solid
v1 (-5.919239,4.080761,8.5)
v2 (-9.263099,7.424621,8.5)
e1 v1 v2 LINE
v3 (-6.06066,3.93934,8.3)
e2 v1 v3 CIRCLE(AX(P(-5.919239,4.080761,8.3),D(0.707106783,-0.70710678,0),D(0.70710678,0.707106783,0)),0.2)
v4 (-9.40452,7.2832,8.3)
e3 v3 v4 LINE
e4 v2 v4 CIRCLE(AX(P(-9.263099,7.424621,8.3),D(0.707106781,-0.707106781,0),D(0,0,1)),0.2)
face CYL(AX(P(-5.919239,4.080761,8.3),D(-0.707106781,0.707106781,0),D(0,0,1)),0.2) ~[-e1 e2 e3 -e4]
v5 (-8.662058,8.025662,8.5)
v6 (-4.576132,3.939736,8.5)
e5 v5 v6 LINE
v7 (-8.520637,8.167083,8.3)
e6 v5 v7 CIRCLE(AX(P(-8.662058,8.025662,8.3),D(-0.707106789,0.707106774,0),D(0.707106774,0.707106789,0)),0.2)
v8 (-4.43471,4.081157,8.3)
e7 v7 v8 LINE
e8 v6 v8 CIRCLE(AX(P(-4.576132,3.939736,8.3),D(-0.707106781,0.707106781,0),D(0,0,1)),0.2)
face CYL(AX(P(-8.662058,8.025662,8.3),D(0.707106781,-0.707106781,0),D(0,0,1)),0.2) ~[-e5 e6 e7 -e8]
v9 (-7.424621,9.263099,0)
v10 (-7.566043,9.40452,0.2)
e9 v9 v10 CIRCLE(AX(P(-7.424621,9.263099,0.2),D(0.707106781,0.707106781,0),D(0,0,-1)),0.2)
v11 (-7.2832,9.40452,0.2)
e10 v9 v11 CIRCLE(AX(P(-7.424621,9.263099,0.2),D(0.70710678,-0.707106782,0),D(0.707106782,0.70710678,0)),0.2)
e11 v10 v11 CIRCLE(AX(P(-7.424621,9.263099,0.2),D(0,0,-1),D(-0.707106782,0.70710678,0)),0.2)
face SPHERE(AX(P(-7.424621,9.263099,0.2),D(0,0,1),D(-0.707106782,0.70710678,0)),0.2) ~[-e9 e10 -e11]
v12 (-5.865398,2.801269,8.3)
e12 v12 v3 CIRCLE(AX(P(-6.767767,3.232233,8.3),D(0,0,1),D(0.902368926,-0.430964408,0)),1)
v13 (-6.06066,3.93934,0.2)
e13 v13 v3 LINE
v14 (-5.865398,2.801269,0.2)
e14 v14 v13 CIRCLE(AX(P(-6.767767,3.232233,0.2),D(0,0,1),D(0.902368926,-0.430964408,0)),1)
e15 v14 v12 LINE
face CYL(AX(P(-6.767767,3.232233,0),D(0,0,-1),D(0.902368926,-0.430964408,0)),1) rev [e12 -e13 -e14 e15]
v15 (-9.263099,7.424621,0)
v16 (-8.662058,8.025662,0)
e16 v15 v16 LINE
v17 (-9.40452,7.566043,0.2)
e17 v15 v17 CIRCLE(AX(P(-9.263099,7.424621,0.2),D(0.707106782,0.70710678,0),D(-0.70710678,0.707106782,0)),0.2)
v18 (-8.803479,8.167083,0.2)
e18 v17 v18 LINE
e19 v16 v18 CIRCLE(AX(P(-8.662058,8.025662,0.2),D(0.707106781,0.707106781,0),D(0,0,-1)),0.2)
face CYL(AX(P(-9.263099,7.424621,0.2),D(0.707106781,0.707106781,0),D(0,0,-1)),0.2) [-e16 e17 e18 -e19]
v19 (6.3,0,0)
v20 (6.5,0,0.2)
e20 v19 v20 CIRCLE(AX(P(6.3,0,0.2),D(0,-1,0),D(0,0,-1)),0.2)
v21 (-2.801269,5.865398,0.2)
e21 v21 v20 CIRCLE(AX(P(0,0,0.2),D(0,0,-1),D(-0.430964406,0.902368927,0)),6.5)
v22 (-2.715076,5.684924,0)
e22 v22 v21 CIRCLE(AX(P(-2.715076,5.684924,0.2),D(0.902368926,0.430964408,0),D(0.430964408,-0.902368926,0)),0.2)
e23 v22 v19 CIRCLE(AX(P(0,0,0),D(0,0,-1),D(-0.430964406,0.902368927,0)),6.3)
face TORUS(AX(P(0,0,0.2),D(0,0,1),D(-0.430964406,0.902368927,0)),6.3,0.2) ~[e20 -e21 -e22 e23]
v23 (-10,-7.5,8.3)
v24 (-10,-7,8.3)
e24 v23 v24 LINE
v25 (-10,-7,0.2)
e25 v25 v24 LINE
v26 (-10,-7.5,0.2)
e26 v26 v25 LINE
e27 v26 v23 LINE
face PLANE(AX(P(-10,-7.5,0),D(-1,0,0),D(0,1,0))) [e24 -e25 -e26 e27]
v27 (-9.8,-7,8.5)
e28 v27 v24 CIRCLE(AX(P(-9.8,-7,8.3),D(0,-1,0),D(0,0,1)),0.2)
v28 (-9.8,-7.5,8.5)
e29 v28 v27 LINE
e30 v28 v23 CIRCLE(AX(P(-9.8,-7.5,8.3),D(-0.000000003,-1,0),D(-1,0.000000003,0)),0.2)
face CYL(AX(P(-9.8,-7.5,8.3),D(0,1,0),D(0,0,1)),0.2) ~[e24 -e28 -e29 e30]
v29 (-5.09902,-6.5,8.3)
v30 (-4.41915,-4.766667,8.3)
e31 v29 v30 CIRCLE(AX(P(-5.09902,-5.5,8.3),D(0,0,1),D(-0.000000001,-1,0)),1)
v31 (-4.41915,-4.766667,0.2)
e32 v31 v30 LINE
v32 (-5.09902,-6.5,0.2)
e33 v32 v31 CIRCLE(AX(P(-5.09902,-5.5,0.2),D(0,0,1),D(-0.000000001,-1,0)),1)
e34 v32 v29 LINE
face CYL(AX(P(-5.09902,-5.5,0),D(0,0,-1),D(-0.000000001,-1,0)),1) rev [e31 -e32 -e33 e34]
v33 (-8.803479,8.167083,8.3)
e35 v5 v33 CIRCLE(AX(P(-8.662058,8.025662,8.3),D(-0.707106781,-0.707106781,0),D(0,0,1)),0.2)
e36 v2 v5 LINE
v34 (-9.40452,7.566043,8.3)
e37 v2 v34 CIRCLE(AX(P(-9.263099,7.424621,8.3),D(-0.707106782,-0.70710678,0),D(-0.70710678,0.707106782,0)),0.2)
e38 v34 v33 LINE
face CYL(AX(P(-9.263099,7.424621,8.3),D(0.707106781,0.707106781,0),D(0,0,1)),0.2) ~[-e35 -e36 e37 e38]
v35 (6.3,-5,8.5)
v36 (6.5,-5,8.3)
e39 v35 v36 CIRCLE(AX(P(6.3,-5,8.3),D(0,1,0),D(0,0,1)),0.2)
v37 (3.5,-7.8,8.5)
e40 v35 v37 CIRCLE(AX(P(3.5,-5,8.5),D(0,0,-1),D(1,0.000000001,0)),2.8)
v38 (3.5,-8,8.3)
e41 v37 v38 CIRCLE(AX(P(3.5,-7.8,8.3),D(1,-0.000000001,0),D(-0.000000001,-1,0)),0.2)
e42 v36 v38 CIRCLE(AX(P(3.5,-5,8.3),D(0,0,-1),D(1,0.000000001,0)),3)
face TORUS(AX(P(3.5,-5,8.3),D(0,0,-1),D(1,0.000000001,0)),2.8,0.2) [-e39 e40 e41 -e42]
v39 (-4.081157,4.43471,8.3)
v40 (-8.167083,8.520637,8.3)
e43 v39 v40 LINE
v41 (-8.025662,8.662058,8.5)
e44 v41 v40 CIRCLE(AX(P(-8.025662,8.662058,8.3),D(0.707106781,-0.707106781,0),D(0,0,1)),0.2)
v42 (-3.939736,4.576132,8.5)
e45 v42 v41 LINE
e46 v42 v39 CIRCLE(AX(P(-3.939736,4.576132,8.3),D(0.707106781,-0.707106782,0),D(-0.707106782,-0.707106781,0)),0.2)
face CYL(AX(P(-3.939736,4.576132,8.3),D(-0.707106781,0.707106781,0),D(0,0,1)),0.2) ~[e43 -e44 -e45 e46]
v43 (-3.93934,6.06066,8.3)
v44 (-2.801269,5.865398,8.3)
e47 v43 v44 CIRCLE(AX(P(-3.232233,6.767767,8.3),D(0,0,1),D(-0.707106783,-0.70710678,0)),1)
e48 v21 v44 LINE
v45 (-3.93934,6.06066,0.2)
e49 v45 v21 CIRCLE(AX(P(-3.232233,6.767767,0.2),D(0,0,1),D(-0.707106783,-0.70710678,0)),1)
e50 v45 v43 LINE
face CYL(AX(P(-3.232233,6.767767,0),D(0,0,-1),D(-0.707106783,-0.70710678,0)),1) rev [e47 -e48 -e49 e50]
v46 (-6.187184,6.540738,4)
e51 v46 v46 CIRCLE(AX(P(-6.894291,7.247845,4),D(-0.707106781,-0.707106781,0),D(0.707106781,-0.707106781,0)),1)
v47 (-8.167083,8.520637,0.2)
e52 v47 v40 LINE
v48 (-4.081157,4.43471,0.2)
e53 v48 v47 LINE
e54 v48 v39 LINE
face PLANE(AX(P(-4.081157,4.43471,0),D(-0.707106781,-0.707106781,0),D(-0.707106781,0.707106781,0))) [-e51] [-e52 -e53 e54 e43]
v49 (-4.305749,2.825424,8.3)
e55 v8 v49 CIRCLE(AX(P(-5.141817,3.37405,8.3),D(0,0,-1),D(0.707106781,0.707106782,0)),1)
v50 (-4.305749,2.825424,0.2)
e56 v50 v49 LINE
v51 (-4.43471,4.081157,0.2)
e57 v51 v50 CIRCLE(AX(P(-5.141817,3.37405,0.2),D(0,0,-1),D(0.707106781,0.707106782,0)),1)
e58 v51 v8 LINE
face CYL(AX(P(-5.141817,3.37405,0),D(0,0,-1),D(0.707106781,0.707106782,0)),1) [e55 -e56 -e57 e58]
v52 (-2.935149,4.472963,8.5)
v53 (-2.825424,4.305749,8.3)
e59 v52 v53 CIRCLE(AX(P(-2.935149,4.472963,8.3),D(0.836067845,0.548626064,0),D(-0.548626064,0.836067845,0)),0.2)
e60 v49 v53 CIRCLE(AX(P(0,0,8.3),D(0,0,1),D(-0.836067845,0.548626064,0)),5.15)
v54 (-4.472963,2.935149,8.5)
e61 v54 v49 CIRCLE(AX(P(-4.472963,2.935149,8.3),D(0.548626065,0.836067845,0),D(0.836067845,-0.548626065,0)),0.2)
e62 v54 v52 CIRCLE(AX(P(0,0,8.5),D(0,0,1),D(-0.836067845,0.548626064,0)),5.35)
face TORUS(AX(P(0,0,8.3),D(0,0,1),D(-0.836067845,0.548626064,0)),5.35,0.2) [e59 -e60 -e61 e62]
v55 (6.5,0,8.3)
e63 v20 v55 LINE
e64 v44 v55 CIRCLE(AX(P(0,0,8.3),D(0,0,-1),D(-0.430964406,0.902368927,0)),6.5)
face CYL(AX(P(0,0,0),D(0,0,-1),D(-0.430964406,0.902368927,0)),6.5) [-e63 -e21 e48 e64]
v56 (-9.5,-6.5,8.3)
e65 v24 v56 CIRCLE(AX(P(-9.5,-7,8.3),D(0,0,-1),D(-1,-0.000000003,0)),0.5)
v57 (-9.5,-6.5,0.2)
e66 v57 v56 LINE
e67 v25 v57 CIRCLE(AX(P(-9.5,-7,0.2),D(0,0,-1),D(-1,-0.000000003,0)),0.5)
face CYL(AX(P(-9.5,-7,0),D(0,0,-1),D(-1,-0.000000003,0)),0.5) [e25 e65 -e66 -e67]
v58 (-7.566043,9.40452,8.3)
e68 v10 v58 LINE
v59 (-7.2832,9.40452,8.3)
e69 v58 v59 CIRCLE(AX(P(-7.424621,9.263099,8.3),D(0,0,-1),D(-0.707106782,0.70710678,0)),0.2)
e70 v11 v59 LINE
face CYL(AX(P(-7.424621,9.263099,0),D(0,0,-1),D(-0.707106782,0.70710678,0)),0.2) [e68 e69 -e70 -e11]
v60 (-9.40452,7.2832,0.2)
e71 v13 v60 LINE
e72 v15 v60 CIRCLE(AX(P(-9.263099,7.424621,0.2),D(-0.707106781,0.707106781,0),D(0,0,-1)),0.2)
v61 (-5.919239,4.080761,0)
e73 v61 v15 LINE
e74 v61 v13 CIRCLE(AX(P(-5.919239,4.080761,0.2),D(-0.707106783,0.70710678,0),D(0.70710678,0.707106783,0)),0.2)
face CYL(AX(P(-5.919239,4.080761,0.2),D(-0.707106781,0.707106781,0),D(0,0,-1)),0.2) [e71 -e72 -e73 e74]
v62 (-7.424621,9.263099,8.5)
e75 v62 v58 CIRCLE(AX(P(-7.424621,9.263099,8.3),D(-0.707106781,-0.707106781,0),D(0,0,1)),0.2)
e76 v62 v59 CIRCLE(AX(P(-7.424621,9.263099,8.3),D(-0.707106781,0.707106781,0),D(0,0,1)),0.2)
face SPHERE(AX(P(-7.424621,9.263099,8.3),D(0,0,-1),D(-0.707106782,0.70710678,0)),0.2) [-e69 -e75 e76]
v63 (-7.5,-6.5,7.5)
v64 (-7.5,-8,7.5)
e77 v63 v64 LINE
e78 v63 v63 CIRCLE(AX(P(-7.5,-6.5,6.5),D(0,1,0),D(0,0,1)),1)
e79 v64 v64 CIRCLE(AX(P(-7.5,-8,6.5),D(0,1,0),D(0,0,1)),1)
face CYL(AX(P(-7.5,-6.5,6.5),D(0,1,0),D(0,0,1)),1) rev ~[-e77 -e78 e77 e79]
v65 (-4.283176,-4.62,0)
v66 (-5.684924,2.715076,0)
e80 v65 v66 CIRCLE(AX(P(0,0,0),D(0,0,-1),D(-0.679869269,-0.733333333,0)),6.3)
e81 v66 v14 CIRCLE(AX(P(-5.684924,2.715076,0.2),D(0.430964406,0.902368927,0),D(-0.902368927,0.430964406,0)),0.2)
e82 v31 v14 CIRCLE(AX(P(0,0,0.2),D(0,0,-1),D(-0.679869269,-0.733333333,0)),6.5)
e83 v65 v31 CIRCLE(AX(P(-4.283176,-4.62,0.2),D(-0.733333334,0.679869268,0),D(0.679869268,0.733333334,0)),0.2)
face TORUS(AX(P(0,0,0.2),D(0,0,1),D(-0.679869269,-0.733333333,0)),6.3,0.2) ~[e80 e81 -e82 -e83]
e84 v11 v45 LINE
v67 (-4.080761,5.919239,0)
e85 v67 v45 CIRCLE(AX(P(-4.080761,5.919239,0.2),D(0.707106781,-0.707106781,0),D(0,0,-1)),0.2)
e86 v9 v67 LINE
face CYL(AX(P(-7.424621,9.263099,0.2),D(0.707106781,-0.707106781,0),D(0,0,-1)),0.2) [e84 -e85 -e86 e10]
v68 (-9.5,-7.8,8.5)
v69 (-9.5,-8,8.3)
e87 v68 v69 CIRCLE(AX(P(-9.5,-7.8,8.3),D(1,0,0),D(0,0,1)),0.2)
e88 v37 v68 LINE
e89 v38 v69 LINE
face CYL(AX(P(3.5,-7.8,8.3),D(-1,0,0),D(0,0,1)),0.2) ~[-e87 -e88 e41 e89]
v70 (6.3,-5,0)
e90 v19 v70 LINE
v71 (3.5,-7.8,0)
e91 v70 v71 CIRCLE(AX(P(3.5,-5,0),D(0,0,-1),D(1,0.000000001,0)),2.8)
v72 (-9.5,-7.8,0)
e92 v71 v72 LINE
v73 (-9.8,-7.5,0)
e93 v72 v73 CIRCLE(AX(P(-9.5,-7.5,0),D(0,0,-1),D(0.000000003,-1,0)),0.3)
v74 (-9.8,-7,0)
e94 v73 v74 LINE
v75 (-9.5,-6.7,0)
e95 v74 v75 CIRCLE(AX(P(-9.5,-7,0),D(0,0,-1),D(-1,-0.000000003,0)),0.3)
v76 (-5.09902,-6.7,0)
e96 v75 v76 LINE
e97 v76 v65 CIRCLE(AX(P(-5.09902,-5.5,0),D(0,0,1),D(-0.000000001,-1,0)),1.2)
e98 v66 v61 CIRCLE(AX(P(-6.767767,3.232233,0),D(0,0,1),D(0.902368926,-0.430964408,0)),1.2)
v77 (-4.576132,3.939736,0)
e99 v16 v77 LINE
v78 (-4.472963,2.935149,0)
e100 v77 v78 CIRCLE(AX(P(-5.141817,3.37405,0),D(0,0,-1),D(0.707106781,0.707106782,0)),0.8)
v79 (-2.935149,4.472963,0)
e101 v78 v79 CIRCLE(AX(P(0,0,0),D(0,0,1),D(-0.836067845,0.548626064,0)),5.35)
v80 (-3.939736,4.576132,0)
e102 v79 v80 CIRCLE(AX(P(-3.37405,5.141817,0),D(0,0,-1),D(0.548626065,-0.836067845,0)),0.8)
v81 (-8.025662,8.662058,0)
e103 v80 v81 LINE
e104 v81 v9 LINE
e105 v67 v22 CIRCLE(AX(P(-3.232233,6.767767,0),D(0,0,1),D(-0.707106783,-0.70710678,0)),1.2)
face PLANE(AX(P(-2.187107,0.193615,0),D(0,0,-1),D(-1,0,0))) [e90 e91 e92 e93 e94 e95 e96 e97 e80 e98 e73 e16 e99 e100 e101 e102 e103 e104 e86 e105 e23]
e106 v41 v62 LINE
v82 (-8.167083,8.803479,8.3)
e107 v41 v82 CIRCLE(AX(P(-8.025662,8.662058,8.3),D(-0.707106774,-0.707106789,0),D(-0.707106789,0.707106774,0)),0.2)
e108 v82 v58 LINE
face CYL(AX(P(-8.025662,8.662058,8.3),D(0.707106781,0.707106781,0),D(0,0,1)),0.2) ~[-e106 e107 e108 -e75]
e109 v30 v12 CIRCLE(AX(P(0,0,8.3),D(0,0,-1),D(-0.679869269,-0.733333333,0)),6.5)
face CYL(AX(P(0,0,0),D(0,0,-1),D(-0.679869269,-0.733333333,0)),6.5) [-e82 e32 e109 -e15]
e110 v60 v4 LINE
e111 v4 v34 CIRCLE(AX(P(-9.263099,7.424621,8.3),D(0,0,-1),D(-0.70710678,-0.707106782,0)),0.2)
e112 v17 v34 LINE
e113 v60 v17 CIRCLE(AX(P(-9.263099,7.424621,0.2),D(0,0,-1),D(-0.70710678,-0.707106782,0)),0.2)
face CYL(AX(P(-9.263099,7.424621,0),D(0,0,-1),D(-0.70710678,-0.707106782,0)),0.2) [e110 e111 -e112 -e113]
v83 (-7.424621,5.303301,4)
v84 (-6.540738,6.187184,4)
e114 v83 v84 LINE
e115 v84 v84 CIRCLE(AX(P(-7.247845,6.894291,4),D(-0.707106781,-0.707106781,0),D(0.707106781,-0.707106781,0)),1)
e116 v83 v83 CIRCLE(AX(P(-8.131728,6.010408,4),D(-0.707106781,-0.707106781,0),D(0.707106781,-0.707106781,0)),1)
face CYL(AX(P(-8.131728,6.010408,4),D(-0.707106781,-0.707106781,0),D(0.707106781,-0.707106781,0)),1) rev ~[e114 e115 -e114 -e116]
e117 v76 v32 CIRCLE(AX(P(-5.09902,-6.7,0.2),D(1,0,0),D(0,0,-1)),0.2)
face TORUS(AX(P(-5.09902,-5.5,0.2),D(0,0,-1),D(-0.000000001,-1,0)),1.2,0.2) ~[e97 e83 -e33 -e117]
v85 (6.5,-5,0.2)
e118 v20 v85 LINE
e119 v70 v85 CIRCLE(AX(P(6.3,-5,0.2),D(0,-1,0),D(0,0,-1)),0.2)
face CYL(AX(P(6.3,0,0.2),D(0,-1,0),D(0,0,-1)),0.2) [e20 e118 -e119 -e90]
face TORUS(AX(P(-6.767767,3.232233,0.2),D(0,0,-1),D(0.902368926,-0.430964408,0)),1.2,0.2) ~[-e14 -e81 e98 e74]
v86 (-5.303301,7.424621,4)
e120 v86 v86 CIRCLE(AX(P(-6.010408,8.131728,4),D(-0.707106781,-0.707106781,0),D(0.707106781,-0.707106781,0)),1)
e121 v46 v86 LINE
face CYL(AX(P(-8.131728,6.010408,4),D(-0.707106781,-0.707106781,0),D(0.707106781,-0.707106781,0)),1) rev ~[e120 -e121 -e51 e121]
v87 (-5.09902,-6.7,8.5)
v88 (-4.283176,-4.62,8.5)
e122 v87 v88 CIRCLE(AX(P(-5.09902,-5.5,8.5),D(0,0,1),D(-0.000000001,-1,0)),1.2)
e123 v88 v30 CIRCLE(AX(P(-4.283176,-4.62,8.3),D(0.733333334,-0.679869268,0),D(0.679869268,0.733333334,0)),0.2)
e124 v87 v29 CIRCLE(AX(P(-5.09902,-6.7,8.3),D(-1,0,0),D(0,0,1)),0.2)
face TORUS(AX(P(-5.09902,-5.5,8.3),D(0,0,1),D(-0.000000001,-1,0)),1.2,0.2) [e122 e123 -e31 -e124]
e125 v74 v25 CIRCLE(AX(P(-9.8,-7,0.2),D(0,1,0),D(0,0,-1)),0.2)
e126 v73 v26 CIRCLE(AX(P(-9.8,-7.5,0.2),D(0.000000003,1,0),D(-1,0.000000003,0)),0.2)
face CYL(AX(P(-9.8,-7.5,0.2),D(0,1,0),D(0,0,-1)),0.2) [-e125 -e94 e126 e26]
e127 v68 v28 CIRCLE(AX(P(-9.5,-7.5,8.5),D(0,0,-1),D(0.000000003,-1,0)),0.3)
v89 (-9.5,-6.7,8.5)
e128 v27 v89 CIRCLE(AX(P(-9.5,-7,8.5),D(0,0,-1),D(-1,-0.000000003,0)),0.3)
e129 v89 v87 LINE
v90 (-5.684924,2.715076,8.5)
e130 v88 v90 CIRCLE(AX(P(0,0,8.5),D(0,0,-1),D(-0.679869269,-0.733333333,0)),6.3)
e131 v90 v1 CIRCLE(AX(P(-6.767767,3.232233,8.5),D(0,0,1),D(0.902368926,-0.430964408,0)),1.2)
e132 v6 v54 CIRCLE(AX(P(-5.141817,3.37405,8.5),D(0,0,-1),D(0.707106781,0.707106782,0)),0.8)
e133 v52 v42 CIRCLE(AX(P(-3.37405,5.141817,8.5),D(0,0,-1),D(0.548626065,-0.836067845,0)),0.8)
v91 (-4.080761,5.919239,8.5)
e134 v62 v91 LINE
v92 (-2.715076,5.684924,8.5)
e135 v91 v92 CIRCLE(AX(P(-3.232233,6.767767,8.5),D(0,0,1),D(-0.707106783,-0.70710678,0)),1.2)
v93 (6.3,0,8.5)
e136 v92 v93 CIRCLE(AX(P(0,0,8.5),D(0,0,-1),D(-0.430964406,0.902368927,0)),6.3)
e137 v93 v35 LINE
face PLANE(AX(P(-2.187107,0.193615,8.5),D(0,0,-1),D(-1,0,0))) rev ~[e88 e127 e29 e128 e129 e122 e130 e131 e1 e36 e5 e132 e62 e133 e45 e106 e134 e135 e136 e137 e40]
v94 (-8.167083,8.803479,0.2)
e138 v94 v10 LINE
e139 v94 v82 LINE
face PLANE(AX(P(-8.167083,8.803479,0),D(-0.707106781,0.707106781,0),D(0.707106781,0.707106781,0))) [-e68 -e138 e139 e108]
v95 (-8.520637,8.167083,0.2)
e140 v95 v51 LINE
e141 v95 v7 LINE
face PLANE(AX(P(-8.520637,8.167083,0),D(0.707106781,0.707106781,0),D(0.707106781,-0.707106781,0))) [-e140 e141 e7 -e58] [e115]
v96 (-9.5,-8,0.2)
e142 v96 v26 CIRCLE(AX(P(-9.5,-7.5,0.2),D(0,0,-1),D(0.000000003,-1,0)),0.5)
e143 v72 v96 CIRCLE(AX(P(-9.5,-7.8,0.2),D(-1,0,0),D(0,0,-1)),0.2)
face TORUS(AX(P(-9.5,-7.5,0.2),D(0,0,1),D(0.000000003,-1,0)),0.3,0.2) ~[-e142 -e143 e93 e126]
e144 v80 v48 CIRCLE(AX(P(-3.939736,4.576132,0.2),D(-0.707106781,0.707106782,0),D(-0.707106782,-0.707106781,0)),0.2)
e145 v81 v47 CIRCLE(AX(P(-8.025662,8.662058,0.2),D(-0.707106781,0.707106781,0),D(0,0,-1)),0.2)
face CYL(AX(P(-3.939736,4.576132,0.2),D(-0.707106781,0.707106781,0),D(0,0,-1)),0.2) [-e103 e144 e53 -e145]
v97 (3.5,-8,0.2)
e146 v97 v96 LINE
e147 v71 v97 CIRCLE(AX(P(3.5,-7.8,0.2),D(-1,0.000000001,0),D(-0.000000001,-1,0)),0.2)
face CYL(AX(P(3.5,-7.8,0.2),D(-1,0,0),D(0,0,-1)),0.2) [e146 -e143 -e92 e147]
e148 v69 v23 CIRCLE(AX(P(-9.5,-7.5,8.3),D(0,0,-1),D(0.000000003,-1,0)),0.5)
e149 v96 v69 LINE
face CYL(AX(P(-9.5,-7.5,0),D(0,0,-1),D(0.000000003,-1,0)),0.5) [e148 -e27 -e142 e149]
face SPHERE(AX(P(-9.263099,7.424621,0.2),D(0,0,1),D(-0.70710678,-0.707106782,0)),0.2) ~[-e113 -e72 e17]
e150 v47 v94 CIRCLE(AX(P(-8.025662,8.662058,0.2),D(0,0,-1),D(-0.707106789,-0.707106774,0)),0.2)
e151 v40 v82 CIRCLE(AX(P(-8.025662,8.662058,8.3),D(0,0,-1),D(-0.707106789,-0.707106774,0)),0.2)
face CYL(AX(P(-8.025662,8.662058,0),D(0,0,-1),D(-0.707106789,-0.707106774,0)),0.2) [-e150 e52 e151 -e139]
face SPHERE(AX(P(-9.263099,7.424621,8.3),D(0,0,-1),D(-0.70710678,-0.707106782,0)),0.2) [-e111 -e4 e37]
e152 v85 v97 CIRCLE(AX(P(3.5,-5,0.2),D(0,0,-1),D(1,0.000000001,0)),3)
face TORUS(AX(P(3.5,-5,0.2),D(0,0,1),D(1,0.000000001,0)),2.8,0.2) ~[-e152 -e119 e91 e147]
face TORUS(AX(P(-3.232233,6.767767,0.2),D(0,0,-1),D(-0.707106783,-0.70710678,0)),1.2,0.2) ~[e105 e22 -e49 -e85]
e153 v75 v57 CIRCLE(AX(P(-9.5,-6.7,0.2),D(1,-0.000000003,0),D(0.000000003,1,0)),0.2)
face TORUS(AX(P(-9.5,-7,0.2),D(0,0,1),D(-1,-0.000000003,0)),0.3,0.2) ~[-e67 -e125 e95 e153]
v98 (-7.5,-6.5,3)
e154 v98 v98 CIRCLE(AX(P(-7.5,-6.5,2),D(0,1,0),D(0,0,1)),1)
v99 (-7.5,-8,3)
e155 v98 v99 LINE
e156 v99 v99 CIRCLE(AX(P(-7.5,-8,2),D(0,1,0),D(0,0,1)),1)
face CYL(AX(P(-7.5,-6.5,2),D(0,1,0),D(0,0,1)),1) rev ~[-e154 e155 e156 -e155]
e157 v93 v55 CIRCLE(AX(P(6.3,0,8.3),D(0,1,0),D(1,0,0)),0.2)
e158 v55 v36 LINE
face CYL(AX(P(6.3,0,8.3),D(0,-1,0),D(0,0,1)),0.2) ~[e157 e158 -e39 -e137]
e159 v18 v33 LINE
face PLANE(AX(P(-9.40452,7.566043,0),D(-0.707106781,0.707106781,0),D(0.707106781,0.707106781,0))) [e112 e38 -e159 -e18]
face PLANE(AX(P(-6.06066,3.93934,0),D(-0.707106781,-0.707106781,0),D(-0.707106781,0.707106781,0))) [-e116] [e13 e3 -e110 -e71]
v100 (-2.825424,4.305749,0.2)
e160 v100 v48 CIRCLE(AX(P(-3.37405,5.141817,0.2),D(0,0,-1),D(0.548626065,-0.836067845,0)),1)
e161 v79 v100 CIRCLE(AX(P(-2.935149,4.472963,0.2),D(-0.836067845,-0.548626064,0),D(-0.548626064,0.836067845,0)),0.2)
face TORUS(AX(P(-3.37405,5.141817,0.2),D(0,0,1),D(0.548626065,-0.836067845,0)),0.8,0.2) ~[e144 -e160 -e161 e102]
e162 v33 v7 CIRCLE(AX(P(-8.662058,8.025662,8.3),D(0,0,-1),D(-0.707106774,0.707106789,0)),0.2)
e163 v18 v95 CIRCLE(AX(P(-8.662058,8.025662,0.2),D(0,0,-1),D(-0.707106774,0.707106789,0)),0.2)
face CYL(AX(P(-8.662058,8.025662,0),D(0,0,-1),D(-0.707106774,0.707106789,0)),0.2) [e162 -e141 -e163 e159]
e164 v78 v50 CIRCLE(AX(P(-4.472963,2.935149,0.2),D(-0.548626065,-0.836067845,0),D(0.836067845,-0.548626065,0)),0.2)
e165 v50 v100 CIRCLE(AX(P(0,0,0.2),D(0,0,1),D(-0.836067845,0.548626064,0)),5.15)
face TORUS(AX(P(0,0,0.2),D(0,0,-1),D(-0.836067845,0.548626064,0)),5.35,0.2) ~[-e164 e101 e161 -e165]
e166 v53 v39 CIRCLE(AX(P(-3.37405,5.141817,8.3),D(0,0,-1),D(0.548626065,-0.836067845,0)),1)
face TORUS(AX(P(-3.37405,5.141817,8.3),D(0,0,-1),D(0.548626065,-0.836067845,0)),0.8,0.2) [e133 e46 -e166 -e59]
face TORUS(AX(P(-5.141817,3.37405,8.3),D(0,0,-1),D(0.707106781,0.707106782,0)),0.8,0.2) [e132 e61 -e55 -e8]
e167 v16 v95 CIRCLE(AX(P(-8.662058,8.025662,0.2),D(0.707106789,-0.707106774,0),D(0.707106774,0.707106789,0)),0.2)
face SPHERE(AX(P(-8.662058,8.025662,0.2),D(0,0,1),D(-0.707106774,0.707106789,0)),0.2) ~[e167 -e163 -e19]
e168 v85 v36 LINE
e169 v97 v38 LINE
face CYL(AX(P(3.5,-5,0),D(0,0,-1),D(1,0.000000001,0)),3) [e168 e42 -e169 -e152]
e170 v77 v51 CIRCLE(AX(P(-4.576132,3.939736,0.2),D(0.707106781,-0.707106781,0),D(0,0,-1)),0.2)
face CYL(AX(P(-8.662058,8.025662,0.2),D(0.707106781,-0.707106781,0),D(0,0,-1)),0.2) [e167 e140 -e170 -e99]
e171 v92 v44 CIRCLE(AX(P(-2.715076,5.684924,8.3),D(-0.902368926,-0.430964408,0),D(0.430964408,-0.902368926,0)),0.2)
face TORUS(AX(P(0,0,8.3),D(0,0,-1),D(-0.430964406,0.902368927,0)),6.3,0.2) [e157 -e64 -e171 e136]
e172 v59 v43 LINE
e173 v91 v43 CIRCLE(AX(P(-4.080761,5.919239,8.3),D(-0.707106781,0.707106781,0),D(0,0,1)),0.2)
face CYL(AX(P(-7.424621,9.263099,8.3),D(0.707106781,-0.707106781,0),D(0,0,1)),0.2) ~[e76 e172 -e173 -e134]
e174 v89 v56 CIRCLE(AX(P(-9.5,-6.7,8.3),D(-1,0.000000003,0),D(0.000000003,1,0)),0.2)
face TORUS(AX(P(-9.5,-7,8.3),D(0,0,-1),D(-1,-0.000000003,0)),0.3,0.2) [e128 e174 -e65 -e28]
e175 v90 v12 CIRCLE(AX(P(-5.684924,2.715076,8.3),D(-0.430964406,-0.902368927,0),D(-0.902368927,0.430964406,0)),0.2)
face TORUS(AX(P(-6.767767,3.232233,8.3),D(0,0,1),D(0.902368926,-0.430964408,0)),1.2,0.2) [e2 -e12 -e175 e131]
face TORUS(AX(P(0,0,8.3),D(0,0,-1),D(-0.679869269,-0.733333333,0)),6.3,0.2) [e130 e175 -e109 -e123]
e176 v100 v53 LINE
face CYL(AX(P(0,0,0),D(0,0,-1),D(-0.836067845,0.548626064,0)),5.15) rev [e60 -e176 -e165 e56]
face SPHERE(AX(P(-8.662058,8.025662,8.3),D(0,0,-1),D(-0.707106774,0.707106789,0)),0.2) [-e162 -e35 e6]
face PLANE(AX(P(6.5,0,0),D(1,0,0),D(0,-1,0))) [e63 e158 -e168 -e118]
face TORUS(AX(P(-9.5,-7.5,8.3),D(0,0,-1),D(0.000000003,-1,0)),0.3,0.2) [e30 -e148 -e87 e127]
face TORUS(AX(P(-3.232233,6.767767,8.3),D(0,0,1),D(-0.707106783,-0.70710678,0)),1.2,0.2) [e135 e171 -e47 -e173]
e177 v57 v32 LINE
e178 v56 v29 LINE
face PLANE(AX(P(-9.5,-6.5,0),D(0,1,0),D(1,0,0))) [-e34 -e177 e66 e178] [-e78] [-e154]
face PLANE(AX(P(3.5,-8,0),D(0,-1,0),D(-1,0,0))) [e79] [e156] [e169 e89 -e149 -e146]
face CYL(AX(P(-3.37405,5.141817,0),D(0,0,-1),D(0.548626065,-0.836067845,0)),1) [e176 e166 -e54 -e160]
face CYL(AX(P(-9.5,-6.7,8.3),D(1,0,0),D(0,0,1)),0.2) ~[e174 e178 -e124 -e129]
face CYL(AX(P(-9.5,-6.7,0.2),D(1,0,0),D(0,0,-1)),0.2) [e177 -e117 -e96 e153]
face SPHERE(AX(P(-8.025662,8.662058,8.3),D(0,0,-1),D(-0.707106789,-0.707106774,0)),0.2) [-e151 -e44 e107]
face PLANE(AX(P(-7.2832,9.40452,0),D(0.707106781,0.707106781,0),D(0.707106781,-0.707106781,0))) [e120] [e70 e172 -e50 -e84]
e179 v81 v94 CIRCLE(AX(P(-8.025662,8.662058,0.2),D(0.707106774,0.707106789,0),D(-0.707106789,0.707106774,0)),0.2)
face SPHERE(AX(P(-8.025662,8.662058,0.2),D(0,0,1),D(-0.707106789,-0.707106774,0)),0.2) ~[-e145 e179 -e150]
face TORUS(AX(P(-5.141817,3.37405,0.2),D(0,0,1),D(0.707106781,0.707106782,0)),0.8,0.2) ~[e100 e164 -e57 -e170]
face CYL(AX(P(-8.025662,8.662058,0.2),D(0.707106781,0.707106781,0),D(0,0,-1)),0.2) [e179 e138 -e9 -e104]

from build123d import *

# Parameters (mm, degrees)
EXTRUDE_1_DEPTH     = 8.5
CUT_EXTRUDE_1_REACH = 22.666
SKETCH_3_R          = 1
FILLET_2_R          = 0.2
SKETCH_5_R          = 1
CUT_EXTRUDE_3_DEPTH = 10


with BuildPart() as part:
    # 草图1 → 凸台-拉伸1 (new body)
    with BuildSketch(Plane.XY):
        with BuildLine():
            Line((-9.5, -6.5), (-5.099019514, -6.5))
            ThreePointArc((-5.099019514, -6.5), (-4.168070177, -5.865148372), (-4.419150245, -4.766666667))
            ThreePointArc((-4.419150245, -4.766666667), (-6.38446509, -1.220084223), (-5.865398026, 2.801268641))
            ThreePointArc((-5.865398026, 2.801268641), (-5.782168393, 3.401335026), (-6.060660172, 3.939339828))
            Line((-6.060660172, 3.939339828), (-9.40452019, 7.283199846))
            ThreePointArc((-9.40452019, 7.283199846), (-9.463098834, 7.424621202), (-9.40452019, 7.566042559))
            Line((-9.40452019, 7.566042559), (-8.803479426, 8.167083323))
            ThreePointArc((-8.803479426, 8.167083323), (-8.66205807, 8.225661966), (-8.520636713, 8.167083323))
            Line((-8.520636713, 8.167083323), (-4.434710467, 4.081157076))
            ThreePointArc((-4.434710467, 4.081157076), (-4.147049322, 3.476210822), (-4.305749403, 2.825424231))
            ThreePointArc((-4.305749403, 2.825424231), (3.641599923, -3.641599923), (-2.825424231, 4.305749403))
            ThreePointArc((-2.825424231, 4.305749403), (-3.476210822, 4.147049322), (-4.081157076, 4.434710467))
            Line((-4.081157076, 4.434710467), (-8.167083323, 8.520636713))
            ThreePointArc((-8.167083323, 8.520636713), (-8.225661966, 8.66205807), (-8.167083323, 8.803479426))
            Line((-8.167083323, 8.803479426), (-7.566042559, 9.40452019))
            ThreePointArc((-7.566042559, 9.40452019), (-7.424621202, 9.463098834), (-7.283199846, 9.40452019))
            Line((-7.283199846, 9.40452019), (-3.939339828, 6.060660172))
            ThreePointArc((-3.939339828, 6.060660172), (-3.401335026, 5.782168393), (-2.801268641, 5.865398026))
            ThreePointArc((-2.801268641, 5.865398026), (3.467113629, 5.498101771), (6.5, 0))
            Line((6.5, 0), (6.5, -5))
            ThreePointArc((6.5, -5), (5.621320344, -7.121320344), (3.5, -8))
            Line((3.5, -8), (-9.5, -8))
            ThreePointArc((-9.5, -8), (-9.853553391, -7.853553391), (-10, -7.5))
            Line((-10, -7.5), (-10, -7))
            ThreePointArc((-10, -7), (-9.853553391, -6.646446609), (-9.5, -6.5))
        make_face()
    extrude(amount=EXTRUDE_1_DEPTH)

    # 草图3 → 切除-拉伸1 (cut, up to next)
    with BuildSketch(Plane(origin=(0, -6.5, 0), x_dir=(1, 0, 0), z_dir=(0, 1, 0)), mode=Mode.PRIVATE) as cut_extrude_1_sk1:
        with Locations(Location((-7.5, -2, 0), (0, 0, 270))):
            Circle(SKETCH_3_R)
    cut_extrude_1_tool1 = extrude(cut_extrude_1_sk1.sketch, amount=-CUT_EXTRUDE_1_REACH, mode=Mode.PRIVATE) & part.part
    # 草图3 → 切除-拉伸1 (cut, up to next)
    with BuildSketch(Plane(origin=(0, -6.5, 0), x_dir=(1, 0, 0), z_dir=(0, 1, 0)), mode=Mode.PRIVATE) as cut_extrude_1_sk2:
        with Locations(Location((-7.5, -6.5, 0), (0, 0, 270))):
            Circle(SKETCH_3_R)
    cut_extrude_1_tool2 = extrude(cut_extrude_1_sk2.sketch, amount=-CUT_EXTRUDE_1_REACH, mode=Mode.PRIVATE) & part.part
    add(cut_extrude_1_tool1.solids().sort_by_distance((-7.5, -6.5, 2))[0], mode=Mode.SUBTRACT)
    add(cut_extrude_1_tool2.solids().sort_by_distance((-7.5, -6.5, 6.5))[0], mode=Mode.SUBTRACT)

    # 圆角2
    fillet_2_edges = [part.edges().sort_by_distance(p)[0] for p in [
        (-5.611269837, 7.732590181, 8.5),
        (-7.424621202, 9.463098834, 8.5),
        (-7.866562941, 9.103999808, 8.5),
        (-8.225661966, 8.66205807, 8.5),
        (6.5, -2.5, 0),
        (5.621320344, -7.121320344, 0),
        (-6.124120199, 6.47767359, 8.5),
        (-3, -8, 0),
        (-9.853553391, -7.853553391, 0),
        (-10, -7.25, 0),
        (-9.853553391, -6.646446609, 0),
        (-7.299509757, -6.5, 0),
        (-4.168070177, -5.865148372, 0),
        (-6.38446509, -1.220084223, 0),
        (-5.782168393, 3.401335026, 0),
        (-3.476210822, 4.147049322, 8.5),
        (-7.732590181, 5.611269837, 0),
        (-9.463098834, 7.424621202, 0),
        (-9.103999808, 7.866562941, 0),
        (-8.66205807, 8.225661966, 0),
        (-6.47767359, 6.124120199, 0),
        (-4.147049322, 3.476210822, 0),
        (3.641599923, -3.641599923, 0),
        (3.641599923, -3.641599923, 8.5),
        (-3.476210822, 4.147049322, 0),
        (-6.124120199, 6.47767359, 0),
        (-8.225661966, 8.66205807, 0),
        (-7.866562941, 9.103999808, 0),
        (-7.424621202, 9.463098834, 0),
        (-5.611269837, 7.732590181, 0),
        (-3.401335026, 5.782168393, 0),
        (3.467113629, 5.498101771, 0),
        (-4.147049322, 3.476210822, 8.5),
        (-6.47767359, 6.124120199, 8.5),
        (-8.66205807, 8.225661966, 8.5),
        (3.467113629, 5.498101771, 8.5),
        (-9.103999808, 7.866562941, 8.5),
        (-9.463098834, 7.424621202, 8.5),
        (-7.732590181, 5.611269837, 8.5),
        (-5.782168393, 3.401335026, 8.5),
        (-6.38446509, -1.220084223, 8.5),
        (-4.168070177, -5.865148372, 8.5),
        (-7.299509757, -6.5, 8.5),
        (-9.853553391, -6.646446609, 8.5),
        (-10, -7.25, 8.5),
        (-9.853553391, -7.853553391, 8.5),
        (-3.401335026, 5.782168393, 8.5),
        (-3, -8, 8.5),
        (5.621320344, -7.121320344, 8.5),
        (6.5, -2.5, 8.5),
    ]]
    fillet(fillet_2_edges, radius=FILLET_2_R)

    # 草图5 → 切除-拉伸3 (cut)
    with BuildSketch(Plane(origin=(-1.060660172, -1.060660172, 0), x_dir=(0, 0, 1), z_dir=(-0.7071067811865477, -0.7071067811865475, 0))):
        with Locations(Location((4, 10, 0), (0, 0, 270))):
            Circle(SKETCH_5_R)
    extrude(amount=-CUT_EXTRUDE_3_DEPTH, mode=Mode.SUBTRACT)


solid = part.part
